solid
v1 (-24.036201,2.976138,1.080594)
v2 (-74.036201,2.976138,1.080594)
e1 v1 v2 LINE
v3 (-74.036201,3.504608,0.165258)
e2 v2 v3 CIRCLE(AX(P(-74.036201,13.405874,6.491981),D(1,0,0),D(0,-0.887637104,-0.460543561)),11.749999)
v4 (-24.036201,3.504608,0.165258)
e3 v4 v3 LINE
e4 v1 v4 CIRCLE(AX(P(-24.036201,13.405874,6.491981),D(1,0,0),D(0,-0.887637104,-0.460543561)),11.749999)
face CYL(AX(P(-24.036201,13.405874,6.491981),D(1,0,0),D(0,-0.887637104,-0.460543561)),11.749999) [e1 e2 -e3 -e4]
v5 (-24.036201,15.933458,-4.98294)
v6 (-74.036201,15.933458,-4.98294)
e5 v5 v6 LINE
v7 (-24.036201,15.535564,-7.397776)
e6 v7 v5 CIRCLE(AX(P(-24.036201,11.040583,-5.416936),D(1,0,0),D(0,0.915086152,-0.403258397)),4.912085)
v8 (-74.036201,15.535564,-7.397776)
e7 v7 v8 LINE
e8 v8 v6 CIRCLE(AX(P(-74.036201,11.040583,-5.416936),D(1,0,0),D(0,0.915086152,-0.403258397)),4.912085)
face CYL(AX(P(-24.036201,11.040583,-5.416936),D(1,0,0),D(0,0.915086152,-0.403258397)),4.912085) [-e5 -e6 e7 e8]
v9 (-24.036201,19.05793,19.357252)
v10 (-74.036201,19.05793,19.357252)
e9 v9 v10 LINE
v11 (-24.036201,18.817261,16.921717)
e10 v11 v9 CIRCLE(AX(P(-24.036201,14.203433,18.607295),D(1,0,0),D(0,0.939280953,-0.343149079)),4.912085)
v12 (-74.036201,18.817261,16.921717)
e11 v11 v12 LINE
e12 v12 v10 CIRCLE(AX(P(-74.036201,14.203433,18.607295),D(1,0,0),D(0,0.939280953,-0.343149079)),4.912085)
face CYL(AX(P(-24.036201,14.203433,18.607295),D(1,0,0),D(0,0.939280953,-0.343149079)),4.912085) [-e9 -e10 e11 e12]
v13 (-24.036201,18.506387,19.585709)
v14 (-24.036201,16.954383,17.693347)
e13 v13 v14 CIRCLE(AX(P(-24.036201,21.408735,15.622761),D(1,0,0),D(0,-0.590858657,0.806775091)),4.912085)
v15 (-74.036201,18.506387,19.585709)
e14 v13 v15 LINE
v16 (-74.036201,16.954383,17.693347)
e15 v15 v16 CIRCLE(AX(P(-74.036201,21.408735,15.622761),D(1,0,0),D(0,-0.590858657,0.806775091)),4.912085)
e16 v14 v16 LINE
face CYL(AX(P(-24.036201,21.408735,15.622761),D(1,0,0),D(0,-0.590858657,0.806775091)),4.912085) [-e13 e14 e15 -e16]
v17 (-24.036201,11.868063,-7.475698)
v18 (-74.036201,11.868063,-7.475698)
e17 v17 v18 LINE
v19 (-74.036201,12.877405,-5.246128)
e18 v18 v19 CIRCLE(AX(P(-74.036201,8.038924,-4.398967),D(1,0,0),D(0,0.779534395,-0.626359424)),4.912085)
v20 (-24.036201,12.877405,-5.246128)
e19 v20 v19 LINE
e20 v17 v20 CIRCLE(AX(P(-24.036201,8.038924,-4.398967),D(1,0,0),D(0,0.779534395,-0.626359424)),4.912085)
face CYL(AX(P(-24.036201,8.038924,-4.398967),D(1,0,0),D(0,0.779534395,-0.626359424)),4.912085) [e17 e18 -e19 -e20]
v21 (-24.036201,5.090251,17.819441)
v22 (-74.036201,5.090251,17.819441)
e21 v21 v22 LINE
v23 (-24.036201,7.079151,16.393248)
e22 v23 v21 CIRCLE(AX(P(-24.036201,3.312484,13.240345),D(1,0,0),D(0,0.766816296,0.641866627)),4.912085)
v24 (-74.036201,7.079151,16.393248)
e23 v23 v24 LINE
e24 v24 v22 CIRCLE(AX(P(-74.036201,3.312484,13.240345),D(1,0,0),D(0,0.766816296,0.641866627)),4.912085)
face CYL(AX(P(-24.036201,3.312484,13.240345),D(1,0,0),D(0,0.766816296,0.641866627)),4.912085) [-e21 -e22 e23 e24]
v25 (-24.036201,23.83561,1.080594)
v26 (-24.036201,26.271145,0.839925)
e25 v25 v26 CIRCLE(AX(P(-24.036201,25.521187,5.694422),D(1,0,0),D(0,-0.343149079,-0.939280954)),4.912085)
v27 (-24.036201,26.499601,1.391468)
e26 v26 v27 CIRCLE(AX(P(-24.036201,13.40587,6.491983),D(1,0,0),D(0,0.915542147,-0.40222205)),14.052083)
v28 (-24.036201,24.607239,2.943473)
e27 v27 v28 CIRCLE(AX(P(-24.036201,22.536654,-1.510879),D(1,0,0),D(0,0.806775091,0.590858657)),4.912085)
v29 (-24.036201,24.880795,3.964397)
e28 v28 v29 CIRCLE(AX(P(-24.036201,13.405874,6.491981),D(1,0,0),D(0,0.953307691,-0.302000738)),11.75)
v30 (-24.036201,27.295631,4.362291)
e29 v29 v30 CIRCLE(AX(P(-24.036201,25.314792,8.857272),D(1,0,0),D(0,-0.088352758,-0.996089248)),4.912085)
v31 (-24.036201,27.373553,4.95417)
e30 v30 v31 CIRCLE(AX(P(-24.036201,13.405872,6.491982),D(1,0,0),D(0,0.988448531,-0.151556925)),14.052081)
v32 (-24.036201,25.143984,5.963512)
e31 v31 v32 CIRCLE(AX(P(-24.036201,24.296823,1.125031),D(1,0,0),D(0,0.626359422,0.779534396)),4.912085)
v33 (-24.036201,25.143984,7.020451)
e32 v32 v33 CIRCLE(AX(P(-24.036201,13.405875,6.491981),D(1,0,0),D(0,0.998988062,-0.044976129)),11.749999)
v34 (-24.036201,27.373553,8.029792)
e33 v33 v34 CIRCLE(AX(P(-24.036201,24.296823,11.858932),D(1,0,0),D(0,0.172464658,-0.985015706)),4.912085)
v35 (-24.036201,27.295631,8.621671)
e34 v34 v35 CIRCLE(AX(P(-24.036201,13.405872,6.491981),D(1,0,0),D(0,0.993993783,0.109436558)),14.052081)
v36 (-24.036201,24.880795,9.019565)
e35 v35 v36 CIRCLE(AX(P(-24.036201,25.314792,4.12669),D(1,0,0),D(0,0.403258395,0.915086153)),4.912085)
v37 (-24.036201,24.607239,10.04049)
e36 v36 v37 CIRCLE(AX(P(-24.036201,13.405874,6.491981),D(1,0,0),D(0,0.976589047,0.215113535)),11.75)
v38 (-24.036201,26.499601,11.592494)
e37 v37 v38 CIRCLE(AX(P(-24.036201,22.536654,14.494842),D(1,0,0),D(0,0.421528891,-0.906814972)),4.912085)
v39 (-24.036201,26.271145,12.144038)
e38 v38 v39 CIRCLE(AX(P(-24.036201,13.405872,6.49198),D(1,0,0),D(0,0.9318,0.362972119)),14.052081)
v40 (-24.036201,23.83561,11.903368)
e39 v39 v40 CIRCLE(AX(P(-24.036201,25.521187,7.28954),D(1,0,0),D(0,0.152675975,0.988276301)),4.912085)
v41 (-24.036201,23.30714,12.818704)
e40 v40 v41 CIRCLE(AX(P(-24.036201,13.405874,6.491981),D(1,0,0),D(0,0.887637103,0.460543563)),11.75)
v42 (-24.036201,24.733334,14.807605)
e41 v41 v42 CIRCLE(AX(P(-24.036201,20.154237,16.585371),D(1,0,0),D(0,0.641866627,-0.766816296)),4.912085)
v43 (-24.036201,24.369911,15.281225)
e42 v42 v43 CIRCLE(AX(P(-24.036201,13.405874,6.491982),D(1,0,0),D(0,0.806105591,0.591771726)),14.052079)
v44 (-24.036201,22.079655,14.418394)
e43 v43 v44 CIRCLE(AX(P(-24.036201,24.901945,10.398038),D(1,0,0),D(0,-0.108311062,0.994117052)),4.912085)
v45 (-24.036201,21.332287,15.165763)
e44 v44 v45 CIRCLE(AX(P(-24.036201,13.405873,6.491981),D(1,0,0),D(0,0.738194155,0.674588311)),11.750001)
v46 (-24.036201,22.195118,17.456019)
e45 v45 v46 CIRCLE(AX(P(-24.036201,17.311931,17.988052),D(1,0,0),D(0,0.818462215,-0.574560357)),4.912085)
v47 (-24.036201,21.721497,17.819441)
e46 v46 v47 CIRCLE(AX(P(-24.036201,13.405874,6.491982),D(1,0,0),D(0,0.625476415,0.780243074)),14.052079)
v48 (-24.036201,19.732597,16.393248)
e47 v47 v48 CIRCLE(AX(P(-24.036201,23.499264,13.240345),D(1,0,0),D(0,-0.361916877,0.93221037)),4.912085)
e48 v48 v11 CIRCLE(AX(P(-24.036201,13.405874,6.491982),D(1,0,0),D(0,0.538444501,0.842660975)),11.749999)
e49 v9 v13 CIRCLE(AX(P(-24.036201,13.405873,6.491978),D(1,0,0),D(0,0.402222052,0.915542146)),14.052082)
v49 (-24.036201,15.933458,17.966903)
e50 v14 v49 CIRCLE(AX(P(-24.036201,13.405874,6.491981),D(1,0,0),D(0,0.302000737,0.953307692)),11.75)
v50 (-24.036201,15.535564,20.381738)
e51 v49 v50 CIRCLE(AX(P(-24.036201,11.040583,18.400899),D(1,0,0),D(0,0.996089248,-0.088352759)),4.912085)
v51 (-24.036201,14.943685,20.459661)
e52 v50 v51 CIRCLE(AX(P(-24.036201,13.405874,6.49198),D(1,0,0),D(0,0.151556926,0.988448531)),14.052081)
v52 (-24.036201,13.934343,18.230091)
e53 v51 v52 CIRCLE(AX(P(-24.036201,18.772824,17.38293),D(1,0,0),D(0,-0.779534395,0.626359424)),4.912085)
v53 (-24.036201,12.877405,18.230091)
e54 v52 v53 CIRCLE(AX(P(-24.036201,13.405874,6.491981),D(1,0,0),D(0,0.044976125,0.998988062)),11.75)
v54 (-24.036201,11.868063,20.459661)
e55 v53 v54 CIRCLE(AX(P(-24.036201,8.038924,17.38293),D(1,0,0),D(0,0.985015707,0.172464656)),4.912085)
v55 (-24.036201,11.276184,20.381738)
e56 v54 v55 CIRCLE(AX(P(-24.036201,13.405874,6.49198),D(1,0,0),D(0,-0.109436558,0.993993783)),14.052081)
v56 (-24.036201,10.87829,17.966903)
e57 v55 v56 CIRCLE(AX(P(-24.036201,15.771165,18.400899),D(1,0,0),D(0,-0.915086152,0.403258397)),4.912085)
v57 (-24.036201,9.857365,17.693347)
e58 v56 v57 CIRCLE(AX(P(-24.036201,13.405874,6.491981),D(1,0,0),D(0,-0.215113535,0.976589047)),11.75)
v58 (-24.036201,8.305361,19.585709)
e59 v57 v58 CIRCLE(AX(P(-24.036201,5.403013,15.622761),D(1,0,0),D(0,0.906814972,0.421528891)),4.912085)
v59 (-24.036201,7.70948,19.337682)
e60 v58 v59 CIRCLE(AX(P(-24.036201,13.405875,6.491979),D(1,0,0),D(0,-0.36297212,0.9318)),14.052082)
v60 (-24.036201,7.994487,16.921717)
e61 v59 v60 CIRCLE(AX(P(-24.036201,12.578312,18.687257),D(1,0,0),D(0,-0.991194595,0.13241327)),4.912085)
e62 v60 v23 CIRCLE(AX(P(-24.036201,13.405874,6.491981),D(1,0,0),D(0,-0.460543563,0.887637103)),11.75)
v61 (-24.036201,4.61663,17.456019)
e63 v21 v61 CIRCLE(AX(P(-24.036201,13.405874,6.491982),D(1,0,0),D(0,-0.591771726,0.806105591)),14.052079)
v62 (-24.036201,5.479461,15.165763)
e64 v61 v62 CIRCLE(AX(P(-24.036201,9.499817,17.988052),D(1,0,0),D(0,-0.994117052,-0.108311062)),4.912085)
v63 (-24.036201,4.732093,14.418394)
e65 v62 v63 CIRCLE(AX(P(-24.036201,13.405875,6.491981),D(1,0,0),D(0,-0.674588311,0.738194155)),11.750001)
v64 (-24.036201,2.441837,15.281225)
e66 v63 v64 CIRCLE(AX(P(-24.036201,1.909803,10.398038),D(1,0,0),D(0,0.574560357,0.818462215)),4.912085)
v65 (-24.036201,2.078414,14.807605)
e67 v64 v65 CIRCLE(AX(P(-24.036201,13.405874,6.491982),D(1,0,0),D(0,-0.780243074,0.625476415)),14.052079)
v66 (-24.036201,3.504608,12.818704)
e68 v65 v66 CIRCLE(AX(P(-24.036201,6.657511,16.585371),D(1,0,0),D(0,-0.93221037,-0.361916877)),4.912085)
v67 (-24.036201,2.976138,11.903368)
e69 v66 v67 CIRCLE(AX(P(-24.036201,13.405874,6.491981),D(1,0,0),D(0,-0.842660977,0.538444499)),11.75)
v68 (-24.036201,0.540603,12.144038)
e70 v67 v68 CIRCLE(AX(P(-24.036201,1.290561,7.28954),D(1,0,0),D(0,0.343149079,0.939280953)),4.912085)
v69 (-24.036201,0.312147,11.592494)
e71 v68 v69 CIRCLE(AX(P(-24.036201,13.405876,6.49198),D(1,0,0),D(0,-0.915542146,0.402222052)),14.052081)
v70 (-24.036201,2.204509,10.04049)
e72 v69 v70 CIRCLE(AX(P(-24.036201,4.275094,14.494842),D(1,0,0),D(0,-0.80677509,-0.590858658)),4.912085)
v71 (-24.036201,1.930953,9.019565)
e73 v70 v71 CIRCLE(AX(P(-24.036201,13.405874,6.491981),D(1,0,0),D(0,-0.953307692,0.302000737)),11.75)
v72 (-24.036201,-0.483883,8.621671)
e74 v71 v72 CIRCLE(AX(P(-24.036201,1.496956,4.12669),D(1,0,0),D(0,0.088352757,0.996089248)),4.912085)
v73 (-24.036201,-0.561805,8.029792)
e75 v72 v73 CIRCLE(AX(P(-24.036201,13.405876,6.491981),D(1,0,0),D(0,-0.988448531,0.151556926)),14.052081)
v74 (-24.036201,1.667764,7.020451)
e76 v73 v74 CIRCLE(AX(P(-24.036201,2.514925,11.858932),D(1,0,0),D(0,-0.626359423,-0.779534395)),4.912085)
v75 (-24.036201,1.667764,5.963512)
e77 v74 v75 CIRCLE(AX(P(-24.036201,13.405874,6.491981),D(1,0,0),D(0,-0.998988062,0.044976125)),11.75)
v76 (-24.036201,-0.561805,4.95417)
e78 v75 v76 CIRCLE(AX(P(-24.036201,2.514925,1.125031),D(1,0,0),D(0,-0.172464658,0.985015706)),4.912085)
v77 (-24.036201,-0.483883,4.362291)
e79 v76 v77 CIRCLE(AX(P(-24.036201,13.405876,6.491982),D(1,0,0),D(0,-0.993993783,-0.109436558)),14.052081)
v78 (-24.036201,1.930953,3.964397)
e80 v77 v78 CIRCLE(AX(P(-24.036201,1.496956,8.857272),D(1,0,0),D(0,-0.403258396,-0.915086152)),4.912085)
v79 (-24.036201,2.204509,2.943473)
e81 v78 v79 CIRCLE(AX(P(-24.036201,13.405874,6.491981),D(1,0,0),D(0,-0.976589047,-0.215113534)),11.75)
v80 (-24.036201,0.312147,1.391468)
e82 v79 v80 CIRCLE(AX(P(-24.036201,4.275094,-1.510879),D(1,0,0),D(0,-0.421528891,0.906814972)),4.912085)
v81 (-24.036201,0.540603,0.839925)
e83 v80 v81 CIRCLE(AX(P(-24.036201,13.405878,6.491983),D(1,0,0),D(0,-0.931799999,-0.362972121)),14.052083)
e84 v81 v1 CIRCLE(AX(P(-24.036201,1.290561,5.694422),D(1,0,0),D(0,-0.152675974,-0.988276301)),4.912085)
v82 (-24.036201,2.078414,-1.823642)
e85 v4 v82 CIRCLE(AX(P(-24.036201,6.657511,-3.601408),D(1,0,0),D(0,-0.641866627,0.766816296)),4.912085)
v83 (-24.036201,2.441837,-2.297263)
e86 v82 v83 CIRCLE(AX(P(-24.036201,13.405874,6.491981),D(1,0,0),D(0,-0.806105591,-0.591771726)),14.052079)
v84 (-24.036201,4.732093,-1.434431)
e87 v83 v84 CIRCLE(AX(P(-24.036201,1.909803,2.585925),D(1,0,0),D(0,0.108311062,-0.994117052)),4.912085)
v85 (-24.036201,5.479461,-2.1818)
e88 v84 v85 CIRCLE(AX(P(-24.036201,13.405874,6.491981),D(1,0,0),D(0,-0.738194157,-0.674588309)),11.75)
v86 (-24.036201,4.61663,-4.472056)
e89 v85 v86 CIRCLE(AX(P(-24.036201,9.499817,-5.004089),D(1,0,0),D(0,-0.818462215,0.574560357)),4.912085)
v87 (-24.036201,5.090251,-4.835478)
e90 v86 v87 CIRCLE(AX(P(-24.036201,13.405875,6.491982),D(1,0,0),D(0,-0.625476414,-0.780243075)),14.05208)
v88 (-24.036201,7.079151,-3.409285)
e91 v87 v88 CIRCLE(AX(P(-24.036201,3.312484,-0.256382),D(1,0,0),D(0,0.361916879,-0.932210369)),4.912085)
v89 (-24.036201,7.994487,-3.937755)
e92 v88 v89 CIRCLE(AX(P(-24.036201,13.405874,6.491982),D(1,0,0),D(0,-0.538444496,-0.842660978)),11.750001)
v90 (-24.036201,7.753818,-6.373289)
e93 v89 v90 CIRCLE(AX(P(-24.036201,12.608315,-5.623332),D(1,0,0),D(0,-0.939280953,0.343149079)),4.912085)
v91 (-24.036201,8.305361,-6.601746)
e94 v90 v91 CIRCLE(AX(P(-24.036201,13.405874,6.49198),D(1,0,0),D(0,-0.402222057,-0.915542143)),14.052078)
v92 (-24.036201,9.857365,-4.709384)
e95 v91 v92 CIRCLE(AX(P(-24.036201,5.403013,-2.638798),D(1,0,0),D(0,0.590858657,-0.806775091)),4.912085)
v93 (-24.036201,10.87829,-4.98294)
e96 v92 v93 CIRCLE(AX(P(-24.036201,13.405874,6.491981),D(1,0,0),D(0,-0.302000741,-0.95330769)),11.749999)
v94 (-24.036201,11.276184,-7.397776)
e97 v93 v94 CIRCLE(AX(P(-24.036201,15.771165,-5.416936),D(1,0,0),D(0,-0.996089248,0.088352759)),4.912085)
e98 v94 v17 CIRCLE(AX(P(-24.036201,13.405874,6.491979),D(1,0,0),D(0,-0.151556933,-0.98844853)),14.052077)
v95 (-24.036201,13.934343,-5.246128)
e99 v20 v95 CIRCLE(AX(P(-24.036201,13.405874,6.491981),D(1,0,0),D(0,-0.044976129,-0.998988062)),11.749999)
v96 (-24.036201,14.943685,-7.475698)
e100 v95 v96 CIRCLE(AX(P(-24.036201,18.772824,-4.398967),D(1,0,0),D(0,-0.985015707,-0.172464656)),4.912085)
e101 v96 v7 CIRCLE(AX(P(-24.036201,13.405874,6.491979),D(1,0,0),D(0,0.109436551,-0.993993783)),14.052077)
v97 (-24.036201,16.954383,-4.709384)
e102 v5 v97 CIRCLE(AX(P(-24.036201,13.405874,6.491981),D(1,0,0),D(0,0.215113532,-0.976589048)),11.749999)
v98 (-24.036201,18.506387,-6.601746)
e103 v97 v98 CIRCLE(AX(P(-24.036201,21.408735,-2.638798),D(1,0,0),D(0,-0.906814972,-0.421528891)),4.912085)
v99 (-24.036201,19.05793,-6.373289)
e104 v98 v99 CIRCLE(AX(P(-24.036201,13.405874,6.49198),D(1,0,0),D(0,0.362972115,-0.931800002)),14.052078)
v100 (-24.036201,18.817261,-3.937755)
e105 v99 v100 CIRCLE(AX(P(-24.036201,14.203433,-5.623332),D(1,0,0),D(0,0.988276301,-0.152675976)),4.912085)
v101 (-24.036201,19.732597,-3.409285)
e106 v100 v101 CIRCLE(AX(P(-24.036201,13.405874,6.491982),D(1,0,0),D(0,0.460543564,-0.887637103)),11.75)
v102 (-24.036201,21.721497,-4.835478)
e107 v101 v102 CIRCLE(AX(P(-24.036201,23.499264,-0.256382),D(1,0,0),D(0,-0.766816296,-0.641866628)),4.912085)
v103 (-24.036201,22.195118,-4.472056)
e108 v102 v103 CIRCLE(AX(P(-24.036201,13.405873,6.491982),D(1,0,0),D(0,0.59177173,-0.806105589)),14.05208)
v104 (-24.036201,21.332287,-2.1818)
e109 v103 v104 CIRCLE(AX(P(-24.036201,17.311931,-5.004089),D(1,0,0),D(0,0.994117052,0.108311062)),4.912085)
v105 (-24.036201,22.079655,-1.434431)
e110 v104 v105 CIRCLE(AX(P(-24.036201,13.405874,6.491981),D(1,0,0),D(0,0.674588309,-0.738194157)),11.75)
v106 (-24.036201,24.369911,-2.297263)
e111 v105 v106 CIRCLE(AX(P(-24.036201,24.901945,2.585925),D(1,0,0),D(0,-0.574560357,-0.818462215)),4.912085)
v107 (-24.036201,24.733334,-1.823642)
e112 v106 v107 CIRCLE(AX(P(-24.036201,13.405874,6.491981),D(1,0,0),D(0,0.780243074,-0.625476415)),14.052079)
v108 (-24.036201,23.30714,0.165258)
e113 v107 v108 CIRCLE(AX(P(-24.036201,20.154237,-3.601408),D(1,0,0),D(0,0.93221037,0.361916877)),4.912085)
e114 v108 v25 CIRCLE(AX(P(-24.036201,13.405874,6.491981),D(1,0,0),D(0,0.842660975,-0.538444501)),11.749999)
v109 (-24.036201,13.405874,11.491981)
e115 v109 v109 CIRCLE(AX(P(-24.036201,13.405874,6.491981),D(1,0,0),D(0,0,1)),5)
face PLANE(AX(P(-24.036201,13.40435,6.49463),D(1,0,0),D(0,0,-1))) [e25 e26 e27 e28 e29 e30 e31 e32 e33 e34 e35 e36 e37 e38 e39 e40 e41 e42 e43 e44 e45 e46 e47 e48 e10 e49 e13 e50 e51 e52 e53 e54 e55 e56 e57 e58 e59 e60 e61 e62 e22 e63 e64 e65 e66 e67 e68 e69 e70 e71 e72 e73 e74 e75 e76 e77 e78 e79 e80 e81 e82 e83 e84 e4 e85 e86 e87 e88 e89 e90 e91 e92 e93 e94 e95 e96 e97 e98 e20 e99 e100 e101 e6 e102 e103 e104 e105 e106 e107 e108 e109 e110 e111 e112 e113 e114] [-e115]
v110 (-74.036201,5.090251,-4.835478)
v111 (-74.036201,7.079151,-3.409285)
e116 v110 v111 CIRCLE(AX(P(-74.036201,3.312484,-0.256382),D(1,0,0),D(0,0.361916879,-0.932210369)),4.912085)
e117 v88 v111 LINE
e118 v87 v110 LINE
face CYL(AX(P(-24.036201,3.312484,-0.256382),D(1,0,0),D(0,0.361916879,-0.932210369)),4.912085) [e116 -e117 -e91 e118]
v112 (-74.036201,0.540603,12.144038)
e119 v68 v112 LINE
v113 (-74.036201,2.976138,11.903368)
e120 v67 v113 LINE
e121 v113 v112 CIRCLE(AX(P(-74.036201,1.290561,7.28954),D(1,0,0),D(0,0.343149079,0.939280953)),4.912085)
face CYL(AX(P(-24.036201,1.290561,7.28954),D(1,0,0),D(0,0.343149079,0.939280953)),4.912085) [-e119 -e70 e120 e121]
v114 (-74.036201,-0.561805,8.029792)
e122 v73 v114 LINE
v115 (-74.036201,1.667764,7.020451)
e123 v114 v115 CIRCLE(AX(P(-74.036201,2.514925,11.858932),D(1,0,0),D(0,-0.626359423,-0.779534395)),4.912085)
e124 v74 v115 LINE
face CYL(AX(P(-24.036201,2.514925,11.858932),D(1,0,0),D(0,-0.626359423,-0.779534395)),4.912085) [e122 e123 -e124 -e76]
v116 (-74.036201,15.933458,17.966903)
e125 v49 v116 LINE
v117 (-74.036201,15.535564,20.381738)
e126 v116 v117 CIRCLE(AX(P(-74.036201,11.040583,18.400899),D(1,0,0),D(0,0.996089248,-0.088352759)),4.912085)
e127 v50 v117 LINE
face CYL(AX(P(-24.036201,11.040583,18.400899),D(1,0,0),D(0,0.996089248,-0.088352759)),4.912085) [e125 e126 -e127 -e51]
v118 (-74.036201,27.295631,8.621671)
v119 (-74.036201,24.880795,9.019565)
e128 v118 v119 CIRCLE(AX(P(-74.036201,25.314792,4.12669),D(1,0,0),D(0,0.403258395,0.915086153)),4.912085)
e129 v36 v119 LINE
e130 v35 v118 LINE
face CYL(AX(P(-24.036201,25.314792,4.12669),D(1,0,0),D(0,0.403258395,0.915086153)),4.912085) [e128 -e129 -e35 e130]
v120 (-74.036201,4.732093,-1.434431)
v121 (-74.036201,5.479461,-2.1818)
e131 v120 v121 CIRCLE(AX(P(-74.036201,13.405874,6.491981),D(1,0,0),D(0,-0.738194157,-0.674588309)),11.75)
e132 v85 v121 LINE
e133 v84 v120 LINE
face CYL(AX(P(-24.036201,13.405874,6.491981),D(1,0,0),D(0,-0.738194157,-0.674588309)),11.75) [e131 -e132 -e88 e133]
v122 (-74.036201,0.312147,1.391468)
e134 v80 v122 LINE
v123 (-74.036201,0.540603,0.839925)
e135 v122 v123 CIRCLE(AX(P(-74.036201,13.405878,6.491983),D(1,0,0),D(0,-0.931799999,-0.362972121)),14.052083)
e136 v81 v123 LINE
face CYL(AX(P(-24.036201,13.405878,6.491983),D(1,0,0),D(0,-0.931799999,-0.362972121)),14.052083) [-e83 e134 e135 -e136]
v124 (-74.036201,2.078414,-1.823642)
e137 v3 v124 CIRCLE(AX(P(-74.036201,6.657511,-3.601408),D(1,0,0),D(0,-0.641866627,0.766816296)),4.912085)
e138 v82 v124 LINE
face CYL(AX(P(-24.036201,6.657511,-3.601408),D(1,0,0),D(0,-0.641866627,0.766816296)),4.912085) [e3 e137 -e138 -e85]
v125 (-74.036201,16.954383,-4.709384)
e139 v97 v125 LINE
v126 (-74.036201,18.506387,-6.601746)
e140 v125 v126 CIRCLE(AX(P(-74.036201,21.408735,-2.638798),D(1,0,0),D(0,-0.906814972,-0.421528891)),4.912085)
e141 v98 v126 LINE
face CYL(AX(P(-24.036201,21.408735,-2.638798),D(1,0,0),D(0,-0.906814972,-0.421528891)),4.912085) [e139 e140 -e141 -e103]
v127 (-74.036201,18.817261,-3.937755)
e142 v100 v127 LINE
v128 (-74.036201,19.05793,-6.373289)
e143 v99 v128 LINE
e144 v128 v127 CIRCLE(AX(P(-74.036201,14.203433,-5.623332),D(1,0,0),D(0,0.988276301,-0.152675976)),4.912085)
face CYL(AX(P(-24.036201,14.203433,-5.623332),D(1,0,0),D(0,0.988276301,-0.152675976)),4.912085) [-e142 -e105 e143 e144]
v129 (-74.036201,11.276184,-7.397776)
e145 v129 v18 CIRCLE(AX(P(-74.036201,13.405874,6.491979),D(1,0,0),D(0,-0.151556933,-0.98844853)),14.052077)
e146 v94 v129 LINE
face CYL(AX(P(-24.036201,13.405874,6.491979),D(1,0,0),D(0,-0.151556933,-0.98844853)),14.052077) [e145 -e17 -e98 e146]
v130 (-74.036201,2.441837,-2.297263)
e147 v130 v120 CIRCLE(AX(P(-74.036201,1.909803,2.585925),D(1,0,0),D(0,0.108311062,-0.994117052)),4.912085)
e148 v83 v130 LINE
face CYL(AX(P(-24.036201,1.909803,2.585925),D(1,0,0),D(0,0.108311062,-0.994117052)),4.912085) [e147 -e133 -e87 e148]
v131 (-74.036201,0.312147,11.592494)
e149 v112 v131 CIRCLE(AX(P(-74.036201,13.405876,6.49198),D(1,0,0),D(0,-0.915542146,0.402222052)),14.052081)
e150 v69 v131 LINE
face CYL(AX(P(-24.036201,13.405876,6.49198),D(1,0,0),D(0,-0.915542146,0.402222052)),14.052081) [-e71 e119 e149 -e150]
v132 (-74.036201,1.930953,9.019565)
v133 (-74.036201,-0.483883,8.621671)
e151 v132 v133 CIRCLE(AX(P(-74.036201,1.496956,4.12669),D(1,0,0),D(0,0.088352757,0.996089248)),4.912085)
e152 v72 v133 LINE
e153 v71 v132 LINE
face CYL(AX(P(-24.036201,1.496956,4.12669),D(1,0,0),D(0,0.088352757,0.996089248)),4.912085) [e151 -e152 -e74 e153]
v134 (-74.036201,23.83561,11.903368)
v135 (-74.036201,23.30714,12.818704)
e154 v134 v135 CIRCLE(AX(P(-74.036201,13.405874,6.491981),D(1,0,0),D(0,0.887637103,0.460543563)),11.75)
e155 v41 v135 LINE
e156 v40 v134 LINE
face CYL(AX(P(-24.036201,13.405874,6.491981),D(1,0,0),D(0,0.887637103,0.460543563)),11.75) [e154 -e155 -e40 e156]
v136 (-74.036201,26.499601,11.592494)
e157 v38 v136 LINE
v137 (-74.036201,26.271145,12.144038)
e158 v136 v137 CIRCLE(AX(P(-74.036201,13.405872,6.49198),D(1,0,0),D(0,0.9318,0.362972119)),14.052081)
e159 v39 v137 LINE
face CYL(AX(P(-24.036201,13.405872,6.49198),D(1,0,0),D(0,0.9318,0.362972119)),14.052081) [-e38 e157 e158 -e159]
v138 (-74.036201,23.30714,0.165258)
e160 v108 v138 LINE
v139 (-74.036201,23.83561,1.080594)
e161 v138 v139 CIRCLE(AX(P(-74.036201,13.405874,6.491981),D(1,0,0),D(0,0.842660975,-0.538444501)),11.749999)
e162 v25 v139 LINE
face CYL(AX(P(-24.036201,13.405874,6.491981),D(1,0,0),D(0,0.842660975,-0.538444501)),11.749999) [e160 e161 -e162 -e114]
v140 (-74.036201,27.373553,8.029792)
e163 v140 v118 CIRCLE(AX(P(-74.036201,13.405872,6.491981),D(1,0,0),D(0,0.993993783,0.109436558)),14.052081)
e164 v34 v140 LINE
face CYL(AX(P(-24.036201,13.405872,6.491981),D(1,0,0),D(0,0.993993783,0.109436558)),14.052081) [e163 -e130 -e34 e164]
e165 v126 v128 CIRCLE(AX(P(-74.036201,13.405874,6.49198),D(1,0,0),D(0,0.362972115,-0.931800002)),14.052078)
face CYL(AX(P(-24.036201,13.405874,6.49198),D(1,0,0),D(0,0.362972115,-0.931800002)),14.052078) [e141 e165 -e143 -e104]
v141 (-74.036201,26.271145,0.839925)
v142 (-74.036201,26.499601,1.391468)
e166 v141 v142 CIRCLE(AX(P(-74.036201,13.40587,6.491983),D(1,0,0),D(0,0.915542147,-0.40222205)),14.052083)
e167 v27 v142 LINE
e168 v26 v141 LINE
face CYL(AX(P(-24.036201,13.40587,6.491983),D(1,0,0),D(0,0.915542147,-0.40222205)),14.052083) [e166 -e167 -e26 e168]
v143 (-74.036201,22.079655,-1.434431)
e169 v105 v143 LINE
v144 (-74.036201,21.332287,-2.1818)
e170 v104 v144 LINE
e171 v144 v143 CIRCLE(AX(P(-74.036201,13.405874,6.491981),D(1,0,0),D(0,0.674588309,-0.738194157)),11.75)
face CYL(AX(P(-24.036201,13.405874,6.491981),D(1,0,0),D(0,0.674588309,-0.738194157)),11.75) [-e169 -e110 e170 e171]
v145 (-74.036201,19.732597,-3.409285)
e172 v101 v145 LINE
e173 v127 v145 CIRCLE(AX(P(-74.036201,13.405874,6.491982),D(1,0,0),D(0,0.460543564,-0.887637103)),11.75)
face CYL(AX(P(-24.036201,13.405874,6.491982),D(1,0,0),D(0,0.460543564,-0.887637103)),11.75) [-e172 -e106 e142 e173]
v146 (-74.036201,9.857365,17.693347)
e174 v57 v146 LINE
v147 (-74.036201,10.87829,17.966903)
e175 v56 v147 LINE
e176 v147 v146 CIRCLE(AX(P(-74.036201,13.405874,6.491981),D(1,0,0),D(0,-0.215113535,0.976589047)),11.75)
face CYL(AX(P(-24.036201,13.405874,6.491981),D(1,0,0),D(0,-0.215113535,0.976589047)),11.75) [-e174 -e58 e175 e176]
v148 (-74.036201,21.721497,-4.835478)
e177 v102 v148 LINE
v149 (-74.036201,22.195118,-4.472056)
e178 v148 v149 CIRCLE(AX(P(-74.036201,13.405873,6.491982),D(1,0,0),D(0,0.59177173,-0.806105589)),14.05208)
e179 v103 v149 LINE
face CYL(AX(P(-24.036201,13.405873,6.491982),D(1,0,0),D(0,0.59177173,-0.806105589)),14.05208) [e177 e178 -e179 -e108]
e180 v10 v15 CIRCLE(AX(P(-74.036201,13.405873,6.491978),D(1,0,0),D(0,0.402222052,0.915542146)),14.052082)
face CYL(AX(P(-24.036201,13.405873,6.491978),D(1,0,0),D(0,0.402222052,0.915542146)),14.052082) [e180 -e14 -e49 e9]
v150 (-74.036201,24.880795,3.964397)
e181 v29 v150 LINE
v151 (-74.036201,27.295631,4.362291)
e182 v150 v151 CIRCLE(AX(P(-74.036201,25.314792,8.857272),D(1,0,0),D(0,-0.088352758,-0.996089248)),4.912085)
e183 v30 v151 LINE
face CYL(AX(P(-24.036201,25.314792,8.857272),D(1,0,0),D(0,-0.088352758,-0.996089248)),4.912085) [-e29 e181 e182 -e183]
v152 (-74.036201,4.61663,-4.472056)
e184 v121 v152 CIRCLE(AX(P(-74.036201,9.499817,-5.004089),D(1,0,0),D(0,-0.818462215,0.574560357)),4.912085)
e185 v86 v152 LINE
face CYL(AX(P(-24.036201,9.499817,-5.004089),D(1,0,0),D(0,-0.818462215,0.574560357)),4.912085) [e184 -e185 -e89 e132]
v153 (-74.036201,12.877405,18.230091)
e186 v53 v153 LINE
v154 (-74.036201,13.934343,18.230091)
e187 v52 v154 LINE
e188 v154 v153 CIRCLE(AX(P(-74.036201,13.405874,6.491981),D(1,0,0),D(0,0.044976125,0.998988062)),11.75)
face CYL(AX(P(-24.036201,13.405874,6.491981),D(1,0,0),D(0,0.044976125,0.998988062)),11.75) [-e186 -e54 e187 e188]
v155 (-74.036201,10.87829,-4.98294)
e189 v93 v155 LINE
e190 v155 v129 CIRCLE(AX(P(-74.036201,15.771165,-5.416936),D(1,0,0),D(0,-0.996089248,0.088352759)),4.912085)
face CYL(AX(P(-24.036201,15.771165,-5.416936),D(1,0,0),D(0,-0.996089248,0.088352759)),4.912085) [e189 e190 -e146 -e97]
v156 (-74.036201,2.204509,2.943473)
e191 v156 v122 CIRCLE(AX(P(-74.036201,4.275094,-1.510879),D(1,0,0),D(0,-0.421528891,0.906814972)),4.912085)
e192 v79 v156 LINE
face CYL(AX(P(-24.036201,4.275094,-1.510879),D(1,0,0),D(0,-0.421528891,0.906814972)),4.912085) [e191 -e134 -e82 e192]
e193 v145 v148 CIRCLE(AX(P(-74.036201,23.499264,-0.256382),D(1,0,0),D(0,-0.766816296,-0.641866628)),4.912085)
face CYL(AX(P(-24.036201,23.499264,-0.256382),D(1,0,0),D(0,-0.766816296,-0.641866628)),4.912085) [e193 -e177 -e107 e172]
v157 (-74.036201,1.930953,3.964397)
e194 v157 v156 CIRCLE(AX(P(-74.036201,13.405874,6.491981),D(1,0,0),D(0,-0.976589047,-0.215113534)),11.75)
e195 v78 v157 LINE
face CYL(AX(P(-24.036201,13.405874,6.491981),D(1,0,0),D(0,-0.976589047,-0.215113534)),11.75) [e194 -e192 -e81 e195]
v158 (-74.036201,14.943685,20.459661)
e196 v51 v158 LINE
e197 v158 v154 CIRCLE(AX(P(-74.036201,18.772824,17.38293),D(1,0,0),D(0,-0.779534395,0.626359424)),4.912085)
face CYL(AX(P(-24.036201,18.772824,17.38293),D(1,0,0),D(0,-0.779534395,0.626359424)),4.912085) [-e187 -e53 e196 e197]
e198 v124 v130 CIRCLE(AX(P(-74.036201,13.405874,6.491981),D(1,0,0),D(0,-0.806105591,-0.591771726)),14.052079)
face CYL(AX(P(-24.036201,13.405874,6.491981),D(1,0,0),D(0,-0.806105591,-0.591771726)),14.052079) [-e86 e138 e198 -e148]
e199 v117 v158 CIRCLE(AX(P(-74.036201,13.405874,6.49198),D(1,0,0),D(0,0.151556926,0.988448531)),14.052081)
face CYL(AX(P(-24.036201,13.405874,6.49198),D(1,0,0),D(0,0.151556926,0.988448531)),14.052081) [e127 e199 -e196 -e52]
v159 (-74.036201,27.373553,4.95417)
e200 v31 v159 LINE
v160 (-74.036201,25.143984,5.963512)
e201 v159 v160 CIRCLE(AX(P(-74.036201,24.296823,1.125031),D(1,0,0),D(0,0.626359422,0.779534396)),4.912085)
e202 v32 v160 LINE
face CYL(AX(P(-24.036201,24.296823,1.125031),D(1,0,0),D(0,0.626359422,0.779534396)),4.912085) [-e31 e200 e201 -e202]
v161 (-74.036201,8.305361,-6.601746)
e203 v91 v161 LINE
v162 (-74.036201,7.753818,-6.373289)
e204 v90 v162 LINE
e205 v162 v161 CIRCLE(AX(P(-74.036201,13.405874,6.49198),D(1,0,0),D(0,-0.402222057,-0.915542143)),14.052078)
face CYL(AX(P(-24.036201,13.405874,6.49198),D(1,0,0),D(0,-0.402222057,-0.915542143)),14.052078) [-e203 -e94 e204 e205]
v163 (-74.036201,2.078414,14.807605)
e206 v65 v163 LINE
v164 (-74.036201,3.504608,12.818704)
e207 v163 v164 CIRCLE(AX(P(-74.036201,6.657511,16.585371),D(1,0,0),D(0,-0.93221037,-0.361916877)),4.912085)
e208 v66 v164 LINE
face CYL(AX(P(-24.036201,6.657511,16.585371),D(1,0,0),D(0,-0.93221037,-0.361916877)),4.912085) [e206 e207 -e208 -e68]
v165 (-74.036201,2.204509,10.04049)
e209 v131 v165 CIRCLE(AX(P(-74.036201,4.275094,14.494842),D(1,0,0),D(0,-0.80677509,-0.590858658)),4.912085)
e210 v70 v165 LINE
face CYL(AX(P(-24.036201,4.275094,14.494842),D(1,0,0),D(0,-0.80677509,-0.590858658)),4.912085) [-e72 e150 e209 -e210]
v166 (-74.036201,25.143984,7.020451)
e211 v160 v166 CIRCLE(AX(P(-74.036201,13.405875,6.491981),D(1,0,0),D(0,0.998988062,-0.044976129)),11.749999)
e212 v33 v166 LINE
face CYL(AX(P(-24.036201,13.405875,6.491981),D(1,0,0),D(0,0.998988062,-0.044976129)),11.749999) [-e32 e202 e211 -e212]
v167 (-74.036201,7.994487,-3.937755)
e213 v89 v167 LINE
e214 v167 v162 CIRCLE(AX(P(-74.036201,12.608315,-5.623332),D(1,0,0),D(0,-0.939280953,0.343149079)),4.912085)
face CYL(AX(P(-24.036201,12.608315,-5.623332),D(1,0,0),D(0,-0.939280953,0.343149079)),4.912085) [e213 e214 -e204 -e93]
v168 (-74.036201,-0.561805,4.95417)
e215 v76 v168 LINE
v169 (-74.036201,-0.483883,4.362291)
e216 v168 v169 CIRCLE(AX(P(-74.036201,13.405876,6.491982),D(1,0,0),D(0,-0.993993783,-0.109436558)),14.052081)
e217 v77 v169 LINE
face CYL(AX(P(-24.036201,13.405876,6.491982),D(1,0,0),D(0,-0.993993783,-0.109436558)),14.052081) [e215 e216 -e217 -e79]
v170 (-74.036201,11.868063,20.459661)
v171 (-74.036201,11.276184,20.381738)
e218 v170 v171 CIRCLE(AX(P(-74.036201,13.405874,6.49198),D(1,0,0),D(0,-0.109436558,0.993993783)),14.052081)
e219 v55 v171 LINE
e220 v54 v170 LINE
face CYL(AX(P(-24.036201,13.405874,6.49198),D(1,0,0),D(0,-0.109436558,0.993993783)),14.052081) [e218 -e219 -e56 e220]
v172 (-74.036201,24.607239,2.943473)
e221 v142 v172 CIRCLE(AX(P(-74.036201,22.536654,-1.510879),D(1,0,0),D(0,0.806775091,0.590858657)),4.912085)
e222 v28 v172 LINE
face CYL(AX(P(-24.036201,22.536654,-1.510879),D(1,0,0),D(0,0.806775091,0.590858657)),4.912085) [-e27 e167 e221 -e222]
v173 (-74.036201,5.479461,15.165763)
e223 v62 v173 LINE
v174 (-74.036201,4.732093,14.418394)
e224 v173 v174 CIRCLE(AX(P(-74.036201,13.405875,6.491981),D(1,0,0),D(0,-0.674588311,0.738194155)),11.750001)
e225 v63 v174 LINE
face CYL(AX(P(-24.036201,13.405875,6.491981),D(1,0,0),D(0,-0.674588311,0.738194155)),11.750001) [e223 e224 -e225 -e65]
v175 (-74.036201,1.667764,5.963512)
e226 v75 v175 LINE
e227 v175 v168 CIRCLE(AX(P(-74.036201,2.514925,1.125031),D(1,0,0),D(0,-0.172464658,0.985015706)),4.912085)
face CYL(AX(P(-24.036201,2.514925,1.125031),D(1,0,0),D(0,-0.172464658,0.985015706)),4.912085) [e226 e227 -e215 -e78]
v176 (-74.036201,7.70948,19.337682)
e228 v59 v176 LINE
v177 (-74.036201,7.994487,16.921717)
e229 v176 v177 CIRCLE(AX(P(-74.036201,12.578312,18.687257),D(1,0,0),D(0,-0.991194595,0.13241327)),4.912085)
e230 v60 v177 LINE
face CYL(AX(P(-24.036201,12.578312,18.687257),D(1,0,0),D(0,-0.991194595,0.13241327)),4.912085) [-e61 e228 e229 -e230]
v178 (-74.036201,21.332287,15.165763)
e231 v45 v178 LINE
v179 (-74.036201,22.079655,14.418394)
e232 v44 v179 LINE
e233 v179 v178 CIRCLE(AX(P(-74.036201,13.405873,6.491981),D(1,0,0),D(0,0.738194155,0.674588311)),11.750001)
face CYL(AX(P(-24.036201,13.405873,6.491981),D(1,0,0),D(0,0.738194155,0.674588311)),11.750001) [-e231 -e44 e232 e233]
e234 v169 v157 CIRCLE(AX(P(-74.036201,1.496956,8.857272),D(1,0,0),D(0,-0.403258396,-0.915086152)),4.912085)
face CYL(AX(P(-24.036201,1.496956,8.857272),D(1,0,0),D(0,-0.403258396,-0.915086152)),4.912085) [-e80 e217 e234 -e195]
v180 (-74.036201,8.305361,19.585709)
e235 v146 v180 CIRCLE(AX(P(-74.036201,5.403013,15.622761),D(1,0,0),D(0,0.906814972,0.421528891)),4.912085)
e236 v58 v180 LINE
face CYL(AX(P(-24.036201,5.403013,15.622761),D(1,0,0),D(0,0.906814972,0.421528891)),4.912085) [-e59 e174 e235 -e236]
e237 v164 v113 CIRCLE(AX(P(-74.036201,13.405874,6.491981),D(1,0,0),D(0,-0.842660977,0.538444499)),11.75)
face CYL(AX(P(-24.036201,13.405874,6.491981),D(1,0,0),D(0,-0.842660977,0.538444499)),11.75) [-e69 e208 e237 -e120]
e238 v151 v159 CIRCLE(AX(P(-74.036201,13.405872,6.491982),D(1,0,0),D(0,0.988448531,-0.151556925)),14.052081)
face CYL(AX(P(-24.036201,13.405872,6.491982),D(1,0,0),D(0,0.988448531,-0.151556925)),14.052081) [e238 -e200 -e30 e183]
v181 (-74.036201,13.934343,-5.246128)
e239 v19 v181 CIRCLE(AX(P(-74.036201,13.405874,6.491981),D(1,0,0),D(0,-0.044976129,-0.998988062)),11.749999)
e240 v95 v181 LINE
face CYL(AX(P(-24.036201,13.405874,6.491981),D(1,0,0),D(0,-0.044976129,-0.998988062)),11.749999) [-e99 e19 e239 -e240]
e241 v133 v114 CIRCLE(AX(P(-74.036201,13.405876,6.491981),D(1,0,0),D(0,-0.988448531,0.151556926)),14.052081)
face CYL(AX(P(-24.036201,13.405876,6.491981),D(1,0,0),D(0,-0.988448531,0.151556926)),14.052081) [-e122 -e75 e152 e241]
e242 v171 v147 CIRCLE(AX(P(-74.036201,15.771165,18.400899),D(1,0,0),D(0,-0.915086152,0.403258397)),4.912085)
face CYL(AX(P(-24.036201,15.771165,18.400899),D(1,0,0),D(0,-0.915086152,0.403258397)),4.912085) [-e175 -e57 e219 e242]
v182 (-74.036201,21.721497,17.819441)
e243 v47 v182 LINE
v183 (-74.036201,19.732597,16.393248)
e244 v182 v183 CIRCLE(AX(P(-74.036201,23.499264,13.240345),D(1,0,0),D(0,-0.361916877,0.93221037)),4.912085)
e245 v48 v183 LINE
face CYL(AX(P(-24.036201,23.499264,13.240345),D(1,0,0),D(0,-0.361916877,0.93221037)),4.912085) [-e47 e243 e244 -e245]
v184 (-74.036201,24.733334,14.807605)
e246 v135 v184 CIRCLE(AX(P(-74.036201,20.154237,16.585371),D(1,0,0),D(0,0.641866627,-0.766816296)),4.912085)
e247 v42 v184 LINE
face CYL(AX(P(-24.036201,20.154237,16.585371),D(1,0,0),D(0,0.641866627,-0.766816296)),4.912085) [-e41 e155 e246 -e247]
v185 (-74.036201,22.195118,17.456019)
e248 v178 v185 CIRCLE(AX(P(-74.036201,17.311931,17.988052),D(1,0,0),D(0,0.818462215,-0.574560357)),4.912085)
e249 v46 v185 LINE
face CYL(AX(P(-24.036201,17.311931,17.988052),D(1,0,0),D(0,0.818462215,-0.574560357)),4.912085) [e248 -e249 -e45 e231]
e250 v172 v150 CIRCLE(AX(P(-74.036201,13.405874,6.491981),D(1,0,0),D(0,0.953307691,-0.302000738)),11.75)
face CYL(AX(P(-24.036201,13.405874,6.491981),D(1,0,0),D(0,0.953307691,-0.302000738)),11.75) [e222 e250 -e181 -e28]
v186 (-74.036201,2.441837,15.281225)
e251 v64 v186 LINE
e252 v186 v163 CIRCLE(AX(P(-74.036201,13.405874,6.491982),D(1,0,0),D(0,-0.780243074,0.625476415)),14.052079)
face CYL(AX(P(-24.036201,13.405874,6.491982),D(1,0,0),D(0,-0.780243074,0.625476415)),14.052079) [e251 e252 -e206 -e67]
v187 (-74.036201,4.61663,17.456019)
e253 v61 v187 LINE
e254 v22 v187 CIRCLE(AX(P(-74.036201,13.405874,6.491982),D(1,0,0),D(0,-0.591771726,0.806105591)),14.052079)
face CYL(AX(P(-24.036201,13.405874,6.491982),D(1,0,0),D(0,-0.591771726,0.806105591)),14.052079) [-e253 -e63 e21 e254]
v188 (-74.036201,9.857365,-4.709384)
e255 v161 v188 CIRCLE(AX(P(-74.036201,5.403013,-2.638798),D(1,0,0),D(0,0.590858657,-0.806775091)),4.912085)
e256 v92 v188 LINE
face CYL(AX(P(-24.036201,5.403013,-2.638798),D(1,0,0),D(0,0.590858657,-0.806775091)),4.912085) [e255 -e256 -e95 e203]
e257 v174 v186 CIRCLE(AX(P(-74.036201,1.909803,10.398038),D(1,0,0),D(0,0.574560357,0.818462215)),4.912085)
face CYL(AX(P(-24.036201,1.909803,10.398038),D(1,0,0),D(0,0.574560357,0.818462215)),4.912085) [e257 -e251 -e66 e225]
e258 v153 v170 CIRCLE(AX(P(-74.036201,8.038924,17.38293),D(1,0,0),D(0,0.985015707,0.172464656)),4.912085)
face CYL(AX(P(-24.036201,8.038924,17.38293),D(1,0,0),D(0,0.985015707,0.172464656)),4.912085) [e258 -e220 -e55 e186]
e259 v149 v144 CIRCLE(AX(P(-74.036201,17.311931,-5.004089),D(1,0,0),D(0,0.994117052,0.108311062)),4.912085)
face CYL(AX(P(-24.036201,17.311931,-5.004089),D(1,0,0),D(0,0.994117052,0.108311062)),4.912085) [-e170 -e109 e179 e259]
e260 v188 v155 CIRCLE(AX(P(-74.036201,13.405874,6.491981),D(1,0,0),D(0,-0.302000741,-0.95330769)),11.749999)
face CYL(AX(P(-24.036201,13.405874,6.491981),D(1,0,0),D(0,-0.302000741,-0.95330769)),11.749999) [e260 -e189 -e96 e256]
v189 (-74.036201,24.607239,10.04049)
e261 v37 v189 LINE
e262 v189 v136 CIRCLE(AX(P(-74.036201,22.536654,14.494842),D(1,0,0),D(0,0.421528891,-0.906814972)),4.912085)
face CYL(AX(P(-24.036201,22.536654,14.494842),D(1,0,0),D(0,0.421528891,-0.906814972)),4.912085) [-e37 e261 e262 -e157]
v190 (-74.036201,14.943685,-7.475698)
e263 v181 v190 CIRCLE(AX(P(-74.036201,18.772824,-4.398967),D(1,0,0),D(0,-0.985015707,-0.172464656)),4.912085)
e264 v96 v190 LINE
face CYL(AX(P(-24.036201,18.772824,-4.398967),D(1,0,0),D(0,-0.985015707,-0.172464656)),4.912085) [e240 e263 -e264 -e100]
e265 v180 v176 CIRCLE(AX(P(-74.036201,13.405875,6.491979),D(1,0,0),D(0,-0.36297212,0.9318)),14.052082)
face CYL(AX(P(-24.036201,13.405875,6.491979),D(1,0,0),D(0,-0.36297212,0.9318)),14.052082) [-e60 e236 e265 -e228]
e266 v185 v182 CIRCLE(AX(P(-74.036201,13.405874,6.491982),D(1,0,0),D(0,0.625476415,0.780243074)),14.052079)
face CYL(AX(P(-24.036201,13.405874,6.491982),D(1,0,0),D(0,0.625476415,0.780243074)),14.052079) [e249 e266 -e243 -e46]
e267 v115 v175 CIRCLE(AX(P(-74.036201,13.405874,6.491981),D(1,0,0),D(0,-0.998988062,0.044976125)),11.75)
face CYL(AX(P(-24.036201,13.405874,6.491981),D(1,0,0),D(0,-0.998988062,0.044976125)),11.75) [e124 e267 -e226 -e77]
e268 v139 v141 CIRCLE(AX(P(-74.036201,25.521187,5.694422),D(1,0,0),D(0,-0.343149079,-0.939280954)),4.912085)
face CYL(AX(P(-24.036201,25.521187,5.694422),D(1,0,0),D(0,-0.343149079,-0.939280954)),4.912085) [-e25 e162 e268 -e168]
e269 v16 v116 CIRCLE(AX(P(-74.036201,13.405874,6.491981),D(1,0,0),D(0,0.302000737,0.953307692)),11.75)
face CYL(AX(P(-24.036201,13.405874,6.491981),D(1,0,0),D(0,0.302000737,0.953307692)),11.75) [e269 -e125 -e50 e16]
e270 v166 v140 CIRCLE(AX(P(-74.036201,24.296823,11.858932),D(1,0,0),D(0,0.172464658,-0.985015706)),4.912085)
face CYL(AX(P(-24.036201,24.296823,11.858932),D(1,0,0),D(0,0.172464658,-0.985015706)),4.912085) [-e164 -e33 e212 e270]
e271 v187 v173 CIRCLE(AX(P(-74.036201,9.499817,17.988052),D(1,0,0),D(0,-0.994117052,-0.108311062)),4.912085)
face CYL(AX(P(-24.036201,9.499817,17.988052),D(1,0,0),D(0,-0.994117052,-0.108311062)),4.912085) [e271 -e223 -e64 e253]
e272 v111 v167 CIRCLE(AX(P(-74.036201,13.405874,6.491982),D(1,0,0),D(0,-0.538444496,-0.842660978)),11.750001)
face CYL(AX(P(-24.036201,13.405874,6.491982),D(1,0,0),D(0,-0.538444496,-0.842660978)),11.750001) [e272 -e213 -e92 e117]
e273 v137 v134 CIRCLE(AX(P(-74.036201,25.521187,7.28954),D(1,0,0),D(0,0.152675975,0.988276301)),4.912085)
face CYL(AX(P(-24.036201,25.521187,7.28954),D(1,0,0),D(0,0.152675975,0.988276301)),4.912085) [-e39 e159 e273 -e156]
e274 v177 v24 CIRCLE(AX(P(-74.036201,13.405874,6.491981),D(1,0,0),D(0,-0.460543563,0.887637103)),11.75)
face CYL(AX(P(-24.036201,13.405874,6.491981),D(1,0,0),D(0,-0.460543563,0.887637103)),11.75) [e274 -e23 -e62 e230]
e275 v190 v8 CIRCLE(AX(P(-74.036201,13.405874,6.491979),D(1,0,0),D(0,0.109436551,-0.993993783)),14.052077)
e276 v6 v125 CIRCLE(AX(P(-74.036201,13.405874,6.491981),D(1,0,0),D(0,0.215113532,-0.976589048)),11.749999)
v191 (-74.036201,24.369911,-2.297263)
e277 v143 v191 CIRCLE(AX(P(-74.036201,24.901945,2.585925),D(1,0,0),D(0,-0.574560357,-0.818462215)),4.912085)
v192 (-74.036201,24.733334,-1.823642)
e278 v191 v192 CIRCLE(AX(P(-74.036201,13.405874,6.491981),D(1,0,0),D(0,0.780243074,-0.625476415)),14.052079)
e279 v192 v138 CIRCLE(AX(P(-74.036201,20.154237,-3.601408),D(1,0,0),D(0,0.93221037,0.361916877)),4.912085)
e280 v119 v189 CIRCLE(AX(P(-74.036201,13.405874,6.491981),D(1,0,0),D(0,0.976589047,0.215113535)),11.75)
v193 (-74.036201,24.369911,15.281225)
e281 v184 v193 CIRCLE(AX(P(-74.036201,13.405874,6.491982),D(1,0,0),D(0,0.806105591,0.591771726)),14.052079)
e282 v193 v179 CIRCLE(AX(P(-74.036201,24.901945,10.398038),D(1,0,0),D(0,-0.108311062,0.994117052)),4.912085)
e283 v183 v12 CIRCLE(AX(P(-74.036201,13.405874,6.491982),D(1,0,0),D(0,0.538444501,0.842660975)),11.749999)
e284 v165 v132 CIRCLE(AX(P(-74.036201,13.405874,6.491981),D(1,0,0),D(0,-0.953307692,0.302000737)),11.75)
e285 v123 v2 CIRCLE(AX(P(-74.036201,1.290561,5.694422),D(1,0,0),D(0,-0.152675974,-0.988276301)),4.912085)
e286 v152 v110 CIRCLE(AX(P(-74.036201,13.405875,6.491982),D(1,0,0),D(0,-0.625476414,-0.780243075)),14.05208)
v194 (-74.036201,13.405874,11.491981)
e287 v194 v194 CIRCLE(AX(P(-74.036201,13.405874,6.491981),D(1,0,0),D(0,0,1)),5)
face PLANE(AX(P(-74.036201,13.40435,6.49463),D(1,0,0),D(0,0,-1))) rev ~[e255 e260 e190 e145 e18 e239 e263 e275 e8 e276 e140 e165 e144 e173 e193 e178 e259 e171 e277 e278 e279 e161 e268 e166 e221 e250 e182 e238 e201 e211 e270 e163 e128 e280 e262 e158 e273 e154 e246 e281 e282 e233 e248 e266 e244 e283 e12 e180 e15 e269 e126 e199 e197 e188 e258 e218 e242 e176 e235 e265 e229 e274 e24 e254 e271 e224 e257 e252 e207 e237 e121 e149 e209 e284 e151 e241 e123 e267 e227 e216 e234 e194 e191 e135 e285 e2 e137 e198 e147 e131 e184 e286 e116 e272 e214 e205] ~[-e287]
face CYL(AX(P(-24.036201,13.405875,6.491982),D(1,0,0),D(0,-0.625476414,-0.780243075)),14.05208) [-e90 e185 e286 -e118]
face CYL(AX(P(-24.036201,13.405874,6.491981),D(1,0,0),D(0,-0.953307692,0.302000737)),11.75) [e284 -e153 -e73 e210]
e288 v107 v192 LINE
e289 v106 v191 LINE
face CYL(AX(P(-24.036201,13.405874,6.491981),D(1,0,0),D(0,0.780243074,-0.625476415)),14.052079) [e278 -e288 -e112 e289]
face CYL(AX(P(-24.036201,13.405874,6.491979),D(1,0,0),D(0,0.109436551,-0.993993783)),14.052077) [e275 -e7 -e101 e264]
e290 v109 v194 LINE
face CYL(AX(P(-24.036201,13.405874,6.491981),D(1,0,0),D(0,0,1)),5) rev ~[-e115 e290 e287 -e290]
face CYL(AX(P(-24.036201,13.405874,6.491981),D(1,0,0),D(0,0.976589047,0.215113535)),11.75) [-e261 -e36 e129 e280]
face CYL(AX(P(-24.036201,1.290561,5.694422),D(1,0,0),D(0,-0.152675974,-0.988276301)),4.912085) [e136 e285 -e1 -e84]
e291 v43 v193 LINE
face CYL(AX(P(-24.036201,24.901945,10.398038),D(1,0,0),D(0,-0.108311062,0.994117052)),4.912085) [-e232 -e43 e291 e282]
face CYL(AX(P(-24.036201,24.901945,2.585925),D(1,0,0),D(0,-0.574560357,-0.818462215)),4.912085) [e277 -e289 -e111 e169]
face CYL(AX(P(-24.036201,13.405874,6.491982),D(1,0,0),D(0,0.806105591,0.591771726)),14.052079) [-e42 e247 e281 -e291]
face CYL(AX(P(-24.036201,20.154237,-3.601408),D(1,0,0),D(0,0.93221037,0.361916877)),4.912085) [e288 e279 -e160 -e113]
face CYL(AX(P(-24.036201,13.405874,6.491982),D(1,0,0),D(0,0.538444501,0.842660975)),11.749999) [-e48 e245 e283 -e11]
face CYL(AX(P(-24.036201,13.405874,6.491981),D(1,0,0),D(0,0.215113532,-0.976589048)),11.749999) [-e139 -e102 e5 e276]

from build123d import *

# Parameters (mm, degrees)
SKETCH1_R           = 5
BOSS_EXTRUDE1_DEPTH = 50


with BuildPart() as part:
    # Sketch1 → Boss-Extrude1 (new body)
    with BuildSketch(Plane(origin=(-24.036200878, 0, 0), x_dir=(0, 0, -1), z_dir=(1, 0, 0))):
        with BuildLine():
            ThreePointArc((-20.45966069, 14.943685115), (-19.408744482, 14.297932757), (-18.23009109, 13.93434348))
            ThreePointArc((-18.23009109, 13.93434348), (-18.241981361, 13.405873993), (-18.23009109, 12.877404505))
            ThreePointArc((-18.23009109, 12.877404505), (-19.408744482, 12.513815228), (-20.45966069, 11.86806287))
            ThreePointArc((-20.45966069, 11.86806287), (-20.423843041, 11.571709606), (-20.381738364, 11.276184046))
            ThreePointArc((-20.381738364, 11.276184046), (-19.19949825, 10.924432295), (-17.966902668, 10.878289967))
            ThreePointArc((-17.966902668, 10.878289967), (-17.84160982, 10.364750213), (-17.693346732, 9.857365315))
            ThreePointArc((-17.693346732, 9.857365315), (-18.737734654, 9.201107096), (-19.585708752, 8.305361087))
            ThreePointArc((-19.585708752, 8.305361087), (-19.465117023, 8.00599622), (-19.337681897, 7.709479816))
            ThreePointArc((-19.337681897, 7.709479816), (-18.111776725, 7.700053845), (-16.921717322, 7.994487129))
            ThreePointArc((-16.921717322, 7.994487129), (-16.667779856, 7.530873993), (-16.393247835, 7.079151127))
            ThreePointArc((-16.393247835, 7.079151127), (-17.232196976, 6.17494688), (-17.81944093, 5.09025083))
            ThreePointArc((-17.81944093, 5.09025083), (-17.640245305, 4.851510199), (-17.456018805, 4.616629895))
            ThreePointArc((-17.456018805, 4.616629895), (-16.256292957, 4.903124001), (-15.165762707, 5.479461363))
            ThreePointArc((-15.165762707, 5.479461363), (-14.80048604, 5.097369314), (-14.418393991, 4.732092647))
            ThreePointArc((-14.418393991, 4.732092647), (-14.994731353, 3.641562397), (-15.281225459, 2.441836549))
            ThreePointArc((-15.281225459, 2.441836549), (-15.046345155, 2.257610049), (-14.807604524, 2.078414424))
            ThreePointArc((-14.807604524, 2.078414424), (-13.722908474, 2.665658378), (-12.818704227, 3.504607519))
            ThreePointArc((-12.818704227, 3.504607519), (-12.366981361, 3.230075498), (-11.903368225, 2.976138032))
            ThreePointArc((-11.903368225, 2.976138032), (-12.17781737, 1.773599613), (-12.144037527, 0.540603301))
            ThreePointArc((-12.144037527, 0.540603301), (-11.869479248, 0.423445663), (-11.592494266, 0.312146602))
            ThreePointArc((-11.592494266, 0.312146602), (-10.696748258, 1.1601207), (-10.040490039, 2.204508622))
            ThreePointArc((-10.040490039, 2.204508622), (-9.533105141, 2.056245534), (-9.019565387, 1.930952686))
            ThreePointArc((-9.019565387, 1.930952686), (-8.973423058, 0.698357104), (-8.621671308, -0.48388301))
            ThreePointArc((-8.621671308, -0.48388301), (-8.326145748, -0.525987687), (-8.029792484, -0.561805336))
            ThreePointArc((-8.029792484, -0.561805336), (-7.384040126, 0.489110872), (-7.020450848, 1.667764264))
            ThreePointArc((-7.020450848, 1.667764264), (-6.491981361, 1.655873993), (-5.963511874, 1.667764264))
            ThreePointArc((-5.963511874, 1.667764264), (-5.599922596, 0.489110872), (-4.954170239, -0.561805336))
            ThreePointArc((-4.954170239, -0.561805336), (-4.657816975, -0.525987687), (-4.362291414, -0.48388301))
            ThreePointArc((-4.362291414, -0.48388301), (-4.010539664, 0.698357104), (-3.964397336, 1.930952686))
            ThreePointArc((-3.964397336, 1.930952686), (-3.450857581, 2.056245534), (-2.943472684, 2.204508622))
            ThreePointArc((-2.943472684, 2.204508622), (-2.287214465, 1.1601207), (-1.391468456, 0.312146602))
            ThreePointArc((-1.391468456, 0.312146602), (-1.114483475, 0.423445663), (-0.839925195, 0.540603301))
            ThreePointArc((-0.839925195, 0.540603301), (-0.806145353, 1.773599613), (-1.080594498, 2.976138032))
            ThreePointArc((-1.080594498, 2.976138032), (-0.616981361, 3.230075498), (-0.165258496, 3.504607519))
            ThreePointArc((-0.165258496, 3.504607519), (0.738945751, 2.665658378), (1.823641801, 2.078414424))
            ThreePointArc((1.823641801, 2.078414424), (2.062382432, 2.257610049), (2.297262736, 2.441836549))
            ThreePointArc((2.297262736, 2.441836549), (2.01076863, 3.641562397), (1.434431268, 4.732092647))
            ThreePointArc((1.434431268, 4.732092647), (1.816523318, 5.097369314), (2.181799984, 5.479461363))
            ThreePointArc((2.181799984, 5.479461363), (3.272330234, 4.903124001), (4.472056082, 4.616629895))
            ThreePointArc((4.472056082, 4.616629895), (4.656282582, 4.851510199), (4.835478208, 5.09025083))
            ThreePointArc((4.835478208, 5.09025083), (4.248234253, 6.17494688), (3.409285113, 7.079151127))
            ThreePointArc((3.409285113, 7.079151127), (3.683817133, 7.530873993), (3.9377546, 7.994487129))
            ThreePointArc((3.9377546, 7.994487129), (5.140293018, 7.720037984), (6.37328933, 7.753817827))
            ThreePointArc((6.37328933, 7.753817827), (6.490446969, 8.028376106), (6.601746029, 8.305361087))
            ThreePointArc((6.601746029, 8.305361087), (5.753771931, 9.201107096), (4.709384009, 9.857365315))
            ThreePointArc((4.709384009, 9.857365315), (4.857647098, 10.364750213), (4.982939945, 10.878289967))
            ThreePointArc((4.982939945, 10.878289967), (6.215535527, 10.924432295), (7.397775641, 11.276184046))
            ThreePointArc((7.397775641, 11.276184046), (7.439880319, 11.571709606), (7.475697967, 11.86806287))
            ThreePointArc((7.475697967, 11.86806287), (6.424781759, 12.513815228), (5.246128367, 12.877404505))
            ThreePointArc((5.246128367, 12.877404505), (5.258018639, 13.405873993), (5.246128367, 13.93434348))
            ThreePointArc((5.246128367, 13.93434348), (6.424781759, 14.297932757), (7.475697967, 14.943685115))
            ThreePointArc((7.475697967, 14.943685115), (7.439880319, 15.240038379), (7.397775641, 15.535563939))
            ThreePointArc((7.397775641, 15.535563939), (6.215535527, 15.88731569), (4.982939945, 15.933458018))
            ThreePointArc((4.982939945, 15.933458018), (4.857647098, 16.446997772), (4.709384009, 16.95438267))
            ThreePointArc((4.709384009, 16.95438267), (5.753771931, 17.610640889), (6.601746029, 18.506386898))
            ThreePointArc((6.601746029, 18.506386898), (6.490446969, 18.783371879), (6.37328933, 19.057930158))
            ThreePointArc((6.37328933, 19.057930158), (5.140293018, 19.091710001), (3.9377546, 18.817260856))
            ThreePointArc((3.9377546, 18.817260856), (3.683817133, 19.280873993), (3.409285113, 19.732596858))
            ThreePointArc((3.409285113, 19.732596858), (4.248234253, 20.636801105), (4.835478208, 21.721497155))
            ThreePointArc((4.835478208, 21.721497155), (4.656282582, 21.960237786), (4.472056082, 22.19511809))
            ThreePointArc((4.472056082, 22.19511809), (3.272330234, 21.908623984), (2.181799984, 21.332286622))
            ThreePointArc((2.181799984, 21.332286622), (1.816523318, 21.714378671), (1.434431268, 22.079655338))
            ThreePointArc((1.434431268, 22.079655338), (2.01076863, 23.170185588), (2.297262736, 24.369911436))
            ThreePointArc((2.297262736, 24.369911436), (2.062382432, 24.554137936), (1.823641801, 24.733333561))
            ThreePointArc((1.823641801, 24.733333561), (0.738945751, 24.146089607), (-0.165258496, 23.307140466))
            ThreePointArc((-0.165258496, 23.307140466), (-0.616981361, 23.581672487), (-1.080594498, 23.835609953))
            ThreePointArc((-1.080594498, 23.835609953), (-0.806145353, 25.038148372), (-0.839925195, 26.271144684))
            ThreePointArc((-0.839925195, 26.271144684), (-1.114483475, 26.388302322), (-1.391468456, 26.499601383))
            ThreePointArc((-1.391468456, 26.499601383), (-2.287214465, 25.651627285), (-2.943472684, 24.607239363))
            ThreePointArc((-2.943472684, 24.607239363), (-3.450857581, 24.755502451), (-3.964397336, 24.880795299))
            ThreePointArc((-3.964397336, 24.880795299), (-4.010539664, 26.113390881), (-4.362291414, 27.295630995))
            ThreePointArc((-4.362291414, 27.295630995), (-4.657816975, 27.337735672), (-4.954170239, 27.373553321))
            ThreePointArc((-4.954170239, 27.373553321), (-5.599922596, 26.322637113), (-5.963511874, 25.143983721))
            ThreePointArc((-5.963511874, 25.143983721), (-6.491981361, 25.155873993), (-7.020450848, 25.143983721))
            ThreePointArc((-7.020450848, 25.143983721), (-7.384040126, 26.322637113), (-8.029792484, 27.373553321))
            ThreePointArc((-8.029792484, 27.373553321), (-8.326145748, 27.337735672), (-8.621671308, 27.295630995))
            ThreePointArc((-8.621671308, 27.295630995), (-8.973423058, 26.113390881), (-9.019565387, 24.880795299))
            ThreePointArc((-9.019565387, 24.880795299), (-9.533105141, 24.755502451), (-10.040490039, 24.607239363))
            ThreePointArc((-10.040490039, 24.607239363), (-10.696748258, 25.651627285), (-11.592494266, 26.499601383))
            ThreePointArc((-11.592494266, 26.499601383), (-11.869479248, 26.388302322), (-12.144037527, 26.271144684))
            ThreePointArc((-12.144037527, 26.271144684), (-12.17781737, 25.038148372), (-11.903368225, 23.835609953))
            ThreePointArc((-11.903368225, 23.835609953), (-12.366981361, 23.581672487), (-12.818704227, 23.307140466))
            ThreePointArc((-12.818704227, 23.307140466), (-13.722908474, 24.146089607), (-14.807604524, 24.733333561))
            ThreePointArc((-14.807604524, 24.733333561), (-15.046345155, 24.554137936), (-15.281225459, 24.369911436))
            ThreePointArc((-15.281225459, 24.369911436), (-14.994731353, 23.170185588), (-14.418393991, 22.079655338))
            ThreePointArc((-14.418393991, 22.079655338), (-14.80048604, 21.714378671), (-15.165762707, 21.332286622))
            ThreePointArc((-15.165762707, 21.332286622), (-16.256292957, 21.908623984), (-17.456018805, 22.19511809))
            ThreePointArc((-17.456018805, 22.19511809), (-17.640245305, 21.960237786), (-17.81944093, 21.721497155))
            ThreePointArc((-17.81944093, 21.721497155), (-17.232196976, 20.636801105), (-16.393247835, 19.732596858))
            ThreePointArc((-16.393247835, 19.732596858), (-16.667779856, 19.280873993), (-16.921717322, 18.817260856))
            ThreePointArc((-16.921717322, 18.817260856), (-18.124255741, 19.091710001), (-19.357252053, 19.057930158))
            ThreePointArc((-19.357252053, 19.057930158), (-19.474409691, 18.783371879), (-19.585708752, 18.506386898))
            ThreePointArc((-19.585708752, 18.506386898), (-18.737734654, 17.610640889), (-17.693346732, 16.95438267))
            ThreePointArc((-17.693346732, 16.95438267), (-17.84160982, 16.446997772), (-17.966902668, 15.933458018))
            ThreePointArc((-17.966902668, 15.933458018), (-19.19949825, 15.88731569), (-20.381738364, 15.535563939))
            ThreePointArc((-20.381738364, 15.535563939), (-20.423843041, 15.240038379), (-20.45966069, 14.943685115))
        make_face()
        with Locations(Location((-6.491981361, 13.405873993, 0), (0, 0, 180))):
            Circle(SKETCH1_R, mode=Mode.SUBTRACT)
    extrude(amount=-BOSS_EXTRUDE1_DEPTH)


solid = part.part
